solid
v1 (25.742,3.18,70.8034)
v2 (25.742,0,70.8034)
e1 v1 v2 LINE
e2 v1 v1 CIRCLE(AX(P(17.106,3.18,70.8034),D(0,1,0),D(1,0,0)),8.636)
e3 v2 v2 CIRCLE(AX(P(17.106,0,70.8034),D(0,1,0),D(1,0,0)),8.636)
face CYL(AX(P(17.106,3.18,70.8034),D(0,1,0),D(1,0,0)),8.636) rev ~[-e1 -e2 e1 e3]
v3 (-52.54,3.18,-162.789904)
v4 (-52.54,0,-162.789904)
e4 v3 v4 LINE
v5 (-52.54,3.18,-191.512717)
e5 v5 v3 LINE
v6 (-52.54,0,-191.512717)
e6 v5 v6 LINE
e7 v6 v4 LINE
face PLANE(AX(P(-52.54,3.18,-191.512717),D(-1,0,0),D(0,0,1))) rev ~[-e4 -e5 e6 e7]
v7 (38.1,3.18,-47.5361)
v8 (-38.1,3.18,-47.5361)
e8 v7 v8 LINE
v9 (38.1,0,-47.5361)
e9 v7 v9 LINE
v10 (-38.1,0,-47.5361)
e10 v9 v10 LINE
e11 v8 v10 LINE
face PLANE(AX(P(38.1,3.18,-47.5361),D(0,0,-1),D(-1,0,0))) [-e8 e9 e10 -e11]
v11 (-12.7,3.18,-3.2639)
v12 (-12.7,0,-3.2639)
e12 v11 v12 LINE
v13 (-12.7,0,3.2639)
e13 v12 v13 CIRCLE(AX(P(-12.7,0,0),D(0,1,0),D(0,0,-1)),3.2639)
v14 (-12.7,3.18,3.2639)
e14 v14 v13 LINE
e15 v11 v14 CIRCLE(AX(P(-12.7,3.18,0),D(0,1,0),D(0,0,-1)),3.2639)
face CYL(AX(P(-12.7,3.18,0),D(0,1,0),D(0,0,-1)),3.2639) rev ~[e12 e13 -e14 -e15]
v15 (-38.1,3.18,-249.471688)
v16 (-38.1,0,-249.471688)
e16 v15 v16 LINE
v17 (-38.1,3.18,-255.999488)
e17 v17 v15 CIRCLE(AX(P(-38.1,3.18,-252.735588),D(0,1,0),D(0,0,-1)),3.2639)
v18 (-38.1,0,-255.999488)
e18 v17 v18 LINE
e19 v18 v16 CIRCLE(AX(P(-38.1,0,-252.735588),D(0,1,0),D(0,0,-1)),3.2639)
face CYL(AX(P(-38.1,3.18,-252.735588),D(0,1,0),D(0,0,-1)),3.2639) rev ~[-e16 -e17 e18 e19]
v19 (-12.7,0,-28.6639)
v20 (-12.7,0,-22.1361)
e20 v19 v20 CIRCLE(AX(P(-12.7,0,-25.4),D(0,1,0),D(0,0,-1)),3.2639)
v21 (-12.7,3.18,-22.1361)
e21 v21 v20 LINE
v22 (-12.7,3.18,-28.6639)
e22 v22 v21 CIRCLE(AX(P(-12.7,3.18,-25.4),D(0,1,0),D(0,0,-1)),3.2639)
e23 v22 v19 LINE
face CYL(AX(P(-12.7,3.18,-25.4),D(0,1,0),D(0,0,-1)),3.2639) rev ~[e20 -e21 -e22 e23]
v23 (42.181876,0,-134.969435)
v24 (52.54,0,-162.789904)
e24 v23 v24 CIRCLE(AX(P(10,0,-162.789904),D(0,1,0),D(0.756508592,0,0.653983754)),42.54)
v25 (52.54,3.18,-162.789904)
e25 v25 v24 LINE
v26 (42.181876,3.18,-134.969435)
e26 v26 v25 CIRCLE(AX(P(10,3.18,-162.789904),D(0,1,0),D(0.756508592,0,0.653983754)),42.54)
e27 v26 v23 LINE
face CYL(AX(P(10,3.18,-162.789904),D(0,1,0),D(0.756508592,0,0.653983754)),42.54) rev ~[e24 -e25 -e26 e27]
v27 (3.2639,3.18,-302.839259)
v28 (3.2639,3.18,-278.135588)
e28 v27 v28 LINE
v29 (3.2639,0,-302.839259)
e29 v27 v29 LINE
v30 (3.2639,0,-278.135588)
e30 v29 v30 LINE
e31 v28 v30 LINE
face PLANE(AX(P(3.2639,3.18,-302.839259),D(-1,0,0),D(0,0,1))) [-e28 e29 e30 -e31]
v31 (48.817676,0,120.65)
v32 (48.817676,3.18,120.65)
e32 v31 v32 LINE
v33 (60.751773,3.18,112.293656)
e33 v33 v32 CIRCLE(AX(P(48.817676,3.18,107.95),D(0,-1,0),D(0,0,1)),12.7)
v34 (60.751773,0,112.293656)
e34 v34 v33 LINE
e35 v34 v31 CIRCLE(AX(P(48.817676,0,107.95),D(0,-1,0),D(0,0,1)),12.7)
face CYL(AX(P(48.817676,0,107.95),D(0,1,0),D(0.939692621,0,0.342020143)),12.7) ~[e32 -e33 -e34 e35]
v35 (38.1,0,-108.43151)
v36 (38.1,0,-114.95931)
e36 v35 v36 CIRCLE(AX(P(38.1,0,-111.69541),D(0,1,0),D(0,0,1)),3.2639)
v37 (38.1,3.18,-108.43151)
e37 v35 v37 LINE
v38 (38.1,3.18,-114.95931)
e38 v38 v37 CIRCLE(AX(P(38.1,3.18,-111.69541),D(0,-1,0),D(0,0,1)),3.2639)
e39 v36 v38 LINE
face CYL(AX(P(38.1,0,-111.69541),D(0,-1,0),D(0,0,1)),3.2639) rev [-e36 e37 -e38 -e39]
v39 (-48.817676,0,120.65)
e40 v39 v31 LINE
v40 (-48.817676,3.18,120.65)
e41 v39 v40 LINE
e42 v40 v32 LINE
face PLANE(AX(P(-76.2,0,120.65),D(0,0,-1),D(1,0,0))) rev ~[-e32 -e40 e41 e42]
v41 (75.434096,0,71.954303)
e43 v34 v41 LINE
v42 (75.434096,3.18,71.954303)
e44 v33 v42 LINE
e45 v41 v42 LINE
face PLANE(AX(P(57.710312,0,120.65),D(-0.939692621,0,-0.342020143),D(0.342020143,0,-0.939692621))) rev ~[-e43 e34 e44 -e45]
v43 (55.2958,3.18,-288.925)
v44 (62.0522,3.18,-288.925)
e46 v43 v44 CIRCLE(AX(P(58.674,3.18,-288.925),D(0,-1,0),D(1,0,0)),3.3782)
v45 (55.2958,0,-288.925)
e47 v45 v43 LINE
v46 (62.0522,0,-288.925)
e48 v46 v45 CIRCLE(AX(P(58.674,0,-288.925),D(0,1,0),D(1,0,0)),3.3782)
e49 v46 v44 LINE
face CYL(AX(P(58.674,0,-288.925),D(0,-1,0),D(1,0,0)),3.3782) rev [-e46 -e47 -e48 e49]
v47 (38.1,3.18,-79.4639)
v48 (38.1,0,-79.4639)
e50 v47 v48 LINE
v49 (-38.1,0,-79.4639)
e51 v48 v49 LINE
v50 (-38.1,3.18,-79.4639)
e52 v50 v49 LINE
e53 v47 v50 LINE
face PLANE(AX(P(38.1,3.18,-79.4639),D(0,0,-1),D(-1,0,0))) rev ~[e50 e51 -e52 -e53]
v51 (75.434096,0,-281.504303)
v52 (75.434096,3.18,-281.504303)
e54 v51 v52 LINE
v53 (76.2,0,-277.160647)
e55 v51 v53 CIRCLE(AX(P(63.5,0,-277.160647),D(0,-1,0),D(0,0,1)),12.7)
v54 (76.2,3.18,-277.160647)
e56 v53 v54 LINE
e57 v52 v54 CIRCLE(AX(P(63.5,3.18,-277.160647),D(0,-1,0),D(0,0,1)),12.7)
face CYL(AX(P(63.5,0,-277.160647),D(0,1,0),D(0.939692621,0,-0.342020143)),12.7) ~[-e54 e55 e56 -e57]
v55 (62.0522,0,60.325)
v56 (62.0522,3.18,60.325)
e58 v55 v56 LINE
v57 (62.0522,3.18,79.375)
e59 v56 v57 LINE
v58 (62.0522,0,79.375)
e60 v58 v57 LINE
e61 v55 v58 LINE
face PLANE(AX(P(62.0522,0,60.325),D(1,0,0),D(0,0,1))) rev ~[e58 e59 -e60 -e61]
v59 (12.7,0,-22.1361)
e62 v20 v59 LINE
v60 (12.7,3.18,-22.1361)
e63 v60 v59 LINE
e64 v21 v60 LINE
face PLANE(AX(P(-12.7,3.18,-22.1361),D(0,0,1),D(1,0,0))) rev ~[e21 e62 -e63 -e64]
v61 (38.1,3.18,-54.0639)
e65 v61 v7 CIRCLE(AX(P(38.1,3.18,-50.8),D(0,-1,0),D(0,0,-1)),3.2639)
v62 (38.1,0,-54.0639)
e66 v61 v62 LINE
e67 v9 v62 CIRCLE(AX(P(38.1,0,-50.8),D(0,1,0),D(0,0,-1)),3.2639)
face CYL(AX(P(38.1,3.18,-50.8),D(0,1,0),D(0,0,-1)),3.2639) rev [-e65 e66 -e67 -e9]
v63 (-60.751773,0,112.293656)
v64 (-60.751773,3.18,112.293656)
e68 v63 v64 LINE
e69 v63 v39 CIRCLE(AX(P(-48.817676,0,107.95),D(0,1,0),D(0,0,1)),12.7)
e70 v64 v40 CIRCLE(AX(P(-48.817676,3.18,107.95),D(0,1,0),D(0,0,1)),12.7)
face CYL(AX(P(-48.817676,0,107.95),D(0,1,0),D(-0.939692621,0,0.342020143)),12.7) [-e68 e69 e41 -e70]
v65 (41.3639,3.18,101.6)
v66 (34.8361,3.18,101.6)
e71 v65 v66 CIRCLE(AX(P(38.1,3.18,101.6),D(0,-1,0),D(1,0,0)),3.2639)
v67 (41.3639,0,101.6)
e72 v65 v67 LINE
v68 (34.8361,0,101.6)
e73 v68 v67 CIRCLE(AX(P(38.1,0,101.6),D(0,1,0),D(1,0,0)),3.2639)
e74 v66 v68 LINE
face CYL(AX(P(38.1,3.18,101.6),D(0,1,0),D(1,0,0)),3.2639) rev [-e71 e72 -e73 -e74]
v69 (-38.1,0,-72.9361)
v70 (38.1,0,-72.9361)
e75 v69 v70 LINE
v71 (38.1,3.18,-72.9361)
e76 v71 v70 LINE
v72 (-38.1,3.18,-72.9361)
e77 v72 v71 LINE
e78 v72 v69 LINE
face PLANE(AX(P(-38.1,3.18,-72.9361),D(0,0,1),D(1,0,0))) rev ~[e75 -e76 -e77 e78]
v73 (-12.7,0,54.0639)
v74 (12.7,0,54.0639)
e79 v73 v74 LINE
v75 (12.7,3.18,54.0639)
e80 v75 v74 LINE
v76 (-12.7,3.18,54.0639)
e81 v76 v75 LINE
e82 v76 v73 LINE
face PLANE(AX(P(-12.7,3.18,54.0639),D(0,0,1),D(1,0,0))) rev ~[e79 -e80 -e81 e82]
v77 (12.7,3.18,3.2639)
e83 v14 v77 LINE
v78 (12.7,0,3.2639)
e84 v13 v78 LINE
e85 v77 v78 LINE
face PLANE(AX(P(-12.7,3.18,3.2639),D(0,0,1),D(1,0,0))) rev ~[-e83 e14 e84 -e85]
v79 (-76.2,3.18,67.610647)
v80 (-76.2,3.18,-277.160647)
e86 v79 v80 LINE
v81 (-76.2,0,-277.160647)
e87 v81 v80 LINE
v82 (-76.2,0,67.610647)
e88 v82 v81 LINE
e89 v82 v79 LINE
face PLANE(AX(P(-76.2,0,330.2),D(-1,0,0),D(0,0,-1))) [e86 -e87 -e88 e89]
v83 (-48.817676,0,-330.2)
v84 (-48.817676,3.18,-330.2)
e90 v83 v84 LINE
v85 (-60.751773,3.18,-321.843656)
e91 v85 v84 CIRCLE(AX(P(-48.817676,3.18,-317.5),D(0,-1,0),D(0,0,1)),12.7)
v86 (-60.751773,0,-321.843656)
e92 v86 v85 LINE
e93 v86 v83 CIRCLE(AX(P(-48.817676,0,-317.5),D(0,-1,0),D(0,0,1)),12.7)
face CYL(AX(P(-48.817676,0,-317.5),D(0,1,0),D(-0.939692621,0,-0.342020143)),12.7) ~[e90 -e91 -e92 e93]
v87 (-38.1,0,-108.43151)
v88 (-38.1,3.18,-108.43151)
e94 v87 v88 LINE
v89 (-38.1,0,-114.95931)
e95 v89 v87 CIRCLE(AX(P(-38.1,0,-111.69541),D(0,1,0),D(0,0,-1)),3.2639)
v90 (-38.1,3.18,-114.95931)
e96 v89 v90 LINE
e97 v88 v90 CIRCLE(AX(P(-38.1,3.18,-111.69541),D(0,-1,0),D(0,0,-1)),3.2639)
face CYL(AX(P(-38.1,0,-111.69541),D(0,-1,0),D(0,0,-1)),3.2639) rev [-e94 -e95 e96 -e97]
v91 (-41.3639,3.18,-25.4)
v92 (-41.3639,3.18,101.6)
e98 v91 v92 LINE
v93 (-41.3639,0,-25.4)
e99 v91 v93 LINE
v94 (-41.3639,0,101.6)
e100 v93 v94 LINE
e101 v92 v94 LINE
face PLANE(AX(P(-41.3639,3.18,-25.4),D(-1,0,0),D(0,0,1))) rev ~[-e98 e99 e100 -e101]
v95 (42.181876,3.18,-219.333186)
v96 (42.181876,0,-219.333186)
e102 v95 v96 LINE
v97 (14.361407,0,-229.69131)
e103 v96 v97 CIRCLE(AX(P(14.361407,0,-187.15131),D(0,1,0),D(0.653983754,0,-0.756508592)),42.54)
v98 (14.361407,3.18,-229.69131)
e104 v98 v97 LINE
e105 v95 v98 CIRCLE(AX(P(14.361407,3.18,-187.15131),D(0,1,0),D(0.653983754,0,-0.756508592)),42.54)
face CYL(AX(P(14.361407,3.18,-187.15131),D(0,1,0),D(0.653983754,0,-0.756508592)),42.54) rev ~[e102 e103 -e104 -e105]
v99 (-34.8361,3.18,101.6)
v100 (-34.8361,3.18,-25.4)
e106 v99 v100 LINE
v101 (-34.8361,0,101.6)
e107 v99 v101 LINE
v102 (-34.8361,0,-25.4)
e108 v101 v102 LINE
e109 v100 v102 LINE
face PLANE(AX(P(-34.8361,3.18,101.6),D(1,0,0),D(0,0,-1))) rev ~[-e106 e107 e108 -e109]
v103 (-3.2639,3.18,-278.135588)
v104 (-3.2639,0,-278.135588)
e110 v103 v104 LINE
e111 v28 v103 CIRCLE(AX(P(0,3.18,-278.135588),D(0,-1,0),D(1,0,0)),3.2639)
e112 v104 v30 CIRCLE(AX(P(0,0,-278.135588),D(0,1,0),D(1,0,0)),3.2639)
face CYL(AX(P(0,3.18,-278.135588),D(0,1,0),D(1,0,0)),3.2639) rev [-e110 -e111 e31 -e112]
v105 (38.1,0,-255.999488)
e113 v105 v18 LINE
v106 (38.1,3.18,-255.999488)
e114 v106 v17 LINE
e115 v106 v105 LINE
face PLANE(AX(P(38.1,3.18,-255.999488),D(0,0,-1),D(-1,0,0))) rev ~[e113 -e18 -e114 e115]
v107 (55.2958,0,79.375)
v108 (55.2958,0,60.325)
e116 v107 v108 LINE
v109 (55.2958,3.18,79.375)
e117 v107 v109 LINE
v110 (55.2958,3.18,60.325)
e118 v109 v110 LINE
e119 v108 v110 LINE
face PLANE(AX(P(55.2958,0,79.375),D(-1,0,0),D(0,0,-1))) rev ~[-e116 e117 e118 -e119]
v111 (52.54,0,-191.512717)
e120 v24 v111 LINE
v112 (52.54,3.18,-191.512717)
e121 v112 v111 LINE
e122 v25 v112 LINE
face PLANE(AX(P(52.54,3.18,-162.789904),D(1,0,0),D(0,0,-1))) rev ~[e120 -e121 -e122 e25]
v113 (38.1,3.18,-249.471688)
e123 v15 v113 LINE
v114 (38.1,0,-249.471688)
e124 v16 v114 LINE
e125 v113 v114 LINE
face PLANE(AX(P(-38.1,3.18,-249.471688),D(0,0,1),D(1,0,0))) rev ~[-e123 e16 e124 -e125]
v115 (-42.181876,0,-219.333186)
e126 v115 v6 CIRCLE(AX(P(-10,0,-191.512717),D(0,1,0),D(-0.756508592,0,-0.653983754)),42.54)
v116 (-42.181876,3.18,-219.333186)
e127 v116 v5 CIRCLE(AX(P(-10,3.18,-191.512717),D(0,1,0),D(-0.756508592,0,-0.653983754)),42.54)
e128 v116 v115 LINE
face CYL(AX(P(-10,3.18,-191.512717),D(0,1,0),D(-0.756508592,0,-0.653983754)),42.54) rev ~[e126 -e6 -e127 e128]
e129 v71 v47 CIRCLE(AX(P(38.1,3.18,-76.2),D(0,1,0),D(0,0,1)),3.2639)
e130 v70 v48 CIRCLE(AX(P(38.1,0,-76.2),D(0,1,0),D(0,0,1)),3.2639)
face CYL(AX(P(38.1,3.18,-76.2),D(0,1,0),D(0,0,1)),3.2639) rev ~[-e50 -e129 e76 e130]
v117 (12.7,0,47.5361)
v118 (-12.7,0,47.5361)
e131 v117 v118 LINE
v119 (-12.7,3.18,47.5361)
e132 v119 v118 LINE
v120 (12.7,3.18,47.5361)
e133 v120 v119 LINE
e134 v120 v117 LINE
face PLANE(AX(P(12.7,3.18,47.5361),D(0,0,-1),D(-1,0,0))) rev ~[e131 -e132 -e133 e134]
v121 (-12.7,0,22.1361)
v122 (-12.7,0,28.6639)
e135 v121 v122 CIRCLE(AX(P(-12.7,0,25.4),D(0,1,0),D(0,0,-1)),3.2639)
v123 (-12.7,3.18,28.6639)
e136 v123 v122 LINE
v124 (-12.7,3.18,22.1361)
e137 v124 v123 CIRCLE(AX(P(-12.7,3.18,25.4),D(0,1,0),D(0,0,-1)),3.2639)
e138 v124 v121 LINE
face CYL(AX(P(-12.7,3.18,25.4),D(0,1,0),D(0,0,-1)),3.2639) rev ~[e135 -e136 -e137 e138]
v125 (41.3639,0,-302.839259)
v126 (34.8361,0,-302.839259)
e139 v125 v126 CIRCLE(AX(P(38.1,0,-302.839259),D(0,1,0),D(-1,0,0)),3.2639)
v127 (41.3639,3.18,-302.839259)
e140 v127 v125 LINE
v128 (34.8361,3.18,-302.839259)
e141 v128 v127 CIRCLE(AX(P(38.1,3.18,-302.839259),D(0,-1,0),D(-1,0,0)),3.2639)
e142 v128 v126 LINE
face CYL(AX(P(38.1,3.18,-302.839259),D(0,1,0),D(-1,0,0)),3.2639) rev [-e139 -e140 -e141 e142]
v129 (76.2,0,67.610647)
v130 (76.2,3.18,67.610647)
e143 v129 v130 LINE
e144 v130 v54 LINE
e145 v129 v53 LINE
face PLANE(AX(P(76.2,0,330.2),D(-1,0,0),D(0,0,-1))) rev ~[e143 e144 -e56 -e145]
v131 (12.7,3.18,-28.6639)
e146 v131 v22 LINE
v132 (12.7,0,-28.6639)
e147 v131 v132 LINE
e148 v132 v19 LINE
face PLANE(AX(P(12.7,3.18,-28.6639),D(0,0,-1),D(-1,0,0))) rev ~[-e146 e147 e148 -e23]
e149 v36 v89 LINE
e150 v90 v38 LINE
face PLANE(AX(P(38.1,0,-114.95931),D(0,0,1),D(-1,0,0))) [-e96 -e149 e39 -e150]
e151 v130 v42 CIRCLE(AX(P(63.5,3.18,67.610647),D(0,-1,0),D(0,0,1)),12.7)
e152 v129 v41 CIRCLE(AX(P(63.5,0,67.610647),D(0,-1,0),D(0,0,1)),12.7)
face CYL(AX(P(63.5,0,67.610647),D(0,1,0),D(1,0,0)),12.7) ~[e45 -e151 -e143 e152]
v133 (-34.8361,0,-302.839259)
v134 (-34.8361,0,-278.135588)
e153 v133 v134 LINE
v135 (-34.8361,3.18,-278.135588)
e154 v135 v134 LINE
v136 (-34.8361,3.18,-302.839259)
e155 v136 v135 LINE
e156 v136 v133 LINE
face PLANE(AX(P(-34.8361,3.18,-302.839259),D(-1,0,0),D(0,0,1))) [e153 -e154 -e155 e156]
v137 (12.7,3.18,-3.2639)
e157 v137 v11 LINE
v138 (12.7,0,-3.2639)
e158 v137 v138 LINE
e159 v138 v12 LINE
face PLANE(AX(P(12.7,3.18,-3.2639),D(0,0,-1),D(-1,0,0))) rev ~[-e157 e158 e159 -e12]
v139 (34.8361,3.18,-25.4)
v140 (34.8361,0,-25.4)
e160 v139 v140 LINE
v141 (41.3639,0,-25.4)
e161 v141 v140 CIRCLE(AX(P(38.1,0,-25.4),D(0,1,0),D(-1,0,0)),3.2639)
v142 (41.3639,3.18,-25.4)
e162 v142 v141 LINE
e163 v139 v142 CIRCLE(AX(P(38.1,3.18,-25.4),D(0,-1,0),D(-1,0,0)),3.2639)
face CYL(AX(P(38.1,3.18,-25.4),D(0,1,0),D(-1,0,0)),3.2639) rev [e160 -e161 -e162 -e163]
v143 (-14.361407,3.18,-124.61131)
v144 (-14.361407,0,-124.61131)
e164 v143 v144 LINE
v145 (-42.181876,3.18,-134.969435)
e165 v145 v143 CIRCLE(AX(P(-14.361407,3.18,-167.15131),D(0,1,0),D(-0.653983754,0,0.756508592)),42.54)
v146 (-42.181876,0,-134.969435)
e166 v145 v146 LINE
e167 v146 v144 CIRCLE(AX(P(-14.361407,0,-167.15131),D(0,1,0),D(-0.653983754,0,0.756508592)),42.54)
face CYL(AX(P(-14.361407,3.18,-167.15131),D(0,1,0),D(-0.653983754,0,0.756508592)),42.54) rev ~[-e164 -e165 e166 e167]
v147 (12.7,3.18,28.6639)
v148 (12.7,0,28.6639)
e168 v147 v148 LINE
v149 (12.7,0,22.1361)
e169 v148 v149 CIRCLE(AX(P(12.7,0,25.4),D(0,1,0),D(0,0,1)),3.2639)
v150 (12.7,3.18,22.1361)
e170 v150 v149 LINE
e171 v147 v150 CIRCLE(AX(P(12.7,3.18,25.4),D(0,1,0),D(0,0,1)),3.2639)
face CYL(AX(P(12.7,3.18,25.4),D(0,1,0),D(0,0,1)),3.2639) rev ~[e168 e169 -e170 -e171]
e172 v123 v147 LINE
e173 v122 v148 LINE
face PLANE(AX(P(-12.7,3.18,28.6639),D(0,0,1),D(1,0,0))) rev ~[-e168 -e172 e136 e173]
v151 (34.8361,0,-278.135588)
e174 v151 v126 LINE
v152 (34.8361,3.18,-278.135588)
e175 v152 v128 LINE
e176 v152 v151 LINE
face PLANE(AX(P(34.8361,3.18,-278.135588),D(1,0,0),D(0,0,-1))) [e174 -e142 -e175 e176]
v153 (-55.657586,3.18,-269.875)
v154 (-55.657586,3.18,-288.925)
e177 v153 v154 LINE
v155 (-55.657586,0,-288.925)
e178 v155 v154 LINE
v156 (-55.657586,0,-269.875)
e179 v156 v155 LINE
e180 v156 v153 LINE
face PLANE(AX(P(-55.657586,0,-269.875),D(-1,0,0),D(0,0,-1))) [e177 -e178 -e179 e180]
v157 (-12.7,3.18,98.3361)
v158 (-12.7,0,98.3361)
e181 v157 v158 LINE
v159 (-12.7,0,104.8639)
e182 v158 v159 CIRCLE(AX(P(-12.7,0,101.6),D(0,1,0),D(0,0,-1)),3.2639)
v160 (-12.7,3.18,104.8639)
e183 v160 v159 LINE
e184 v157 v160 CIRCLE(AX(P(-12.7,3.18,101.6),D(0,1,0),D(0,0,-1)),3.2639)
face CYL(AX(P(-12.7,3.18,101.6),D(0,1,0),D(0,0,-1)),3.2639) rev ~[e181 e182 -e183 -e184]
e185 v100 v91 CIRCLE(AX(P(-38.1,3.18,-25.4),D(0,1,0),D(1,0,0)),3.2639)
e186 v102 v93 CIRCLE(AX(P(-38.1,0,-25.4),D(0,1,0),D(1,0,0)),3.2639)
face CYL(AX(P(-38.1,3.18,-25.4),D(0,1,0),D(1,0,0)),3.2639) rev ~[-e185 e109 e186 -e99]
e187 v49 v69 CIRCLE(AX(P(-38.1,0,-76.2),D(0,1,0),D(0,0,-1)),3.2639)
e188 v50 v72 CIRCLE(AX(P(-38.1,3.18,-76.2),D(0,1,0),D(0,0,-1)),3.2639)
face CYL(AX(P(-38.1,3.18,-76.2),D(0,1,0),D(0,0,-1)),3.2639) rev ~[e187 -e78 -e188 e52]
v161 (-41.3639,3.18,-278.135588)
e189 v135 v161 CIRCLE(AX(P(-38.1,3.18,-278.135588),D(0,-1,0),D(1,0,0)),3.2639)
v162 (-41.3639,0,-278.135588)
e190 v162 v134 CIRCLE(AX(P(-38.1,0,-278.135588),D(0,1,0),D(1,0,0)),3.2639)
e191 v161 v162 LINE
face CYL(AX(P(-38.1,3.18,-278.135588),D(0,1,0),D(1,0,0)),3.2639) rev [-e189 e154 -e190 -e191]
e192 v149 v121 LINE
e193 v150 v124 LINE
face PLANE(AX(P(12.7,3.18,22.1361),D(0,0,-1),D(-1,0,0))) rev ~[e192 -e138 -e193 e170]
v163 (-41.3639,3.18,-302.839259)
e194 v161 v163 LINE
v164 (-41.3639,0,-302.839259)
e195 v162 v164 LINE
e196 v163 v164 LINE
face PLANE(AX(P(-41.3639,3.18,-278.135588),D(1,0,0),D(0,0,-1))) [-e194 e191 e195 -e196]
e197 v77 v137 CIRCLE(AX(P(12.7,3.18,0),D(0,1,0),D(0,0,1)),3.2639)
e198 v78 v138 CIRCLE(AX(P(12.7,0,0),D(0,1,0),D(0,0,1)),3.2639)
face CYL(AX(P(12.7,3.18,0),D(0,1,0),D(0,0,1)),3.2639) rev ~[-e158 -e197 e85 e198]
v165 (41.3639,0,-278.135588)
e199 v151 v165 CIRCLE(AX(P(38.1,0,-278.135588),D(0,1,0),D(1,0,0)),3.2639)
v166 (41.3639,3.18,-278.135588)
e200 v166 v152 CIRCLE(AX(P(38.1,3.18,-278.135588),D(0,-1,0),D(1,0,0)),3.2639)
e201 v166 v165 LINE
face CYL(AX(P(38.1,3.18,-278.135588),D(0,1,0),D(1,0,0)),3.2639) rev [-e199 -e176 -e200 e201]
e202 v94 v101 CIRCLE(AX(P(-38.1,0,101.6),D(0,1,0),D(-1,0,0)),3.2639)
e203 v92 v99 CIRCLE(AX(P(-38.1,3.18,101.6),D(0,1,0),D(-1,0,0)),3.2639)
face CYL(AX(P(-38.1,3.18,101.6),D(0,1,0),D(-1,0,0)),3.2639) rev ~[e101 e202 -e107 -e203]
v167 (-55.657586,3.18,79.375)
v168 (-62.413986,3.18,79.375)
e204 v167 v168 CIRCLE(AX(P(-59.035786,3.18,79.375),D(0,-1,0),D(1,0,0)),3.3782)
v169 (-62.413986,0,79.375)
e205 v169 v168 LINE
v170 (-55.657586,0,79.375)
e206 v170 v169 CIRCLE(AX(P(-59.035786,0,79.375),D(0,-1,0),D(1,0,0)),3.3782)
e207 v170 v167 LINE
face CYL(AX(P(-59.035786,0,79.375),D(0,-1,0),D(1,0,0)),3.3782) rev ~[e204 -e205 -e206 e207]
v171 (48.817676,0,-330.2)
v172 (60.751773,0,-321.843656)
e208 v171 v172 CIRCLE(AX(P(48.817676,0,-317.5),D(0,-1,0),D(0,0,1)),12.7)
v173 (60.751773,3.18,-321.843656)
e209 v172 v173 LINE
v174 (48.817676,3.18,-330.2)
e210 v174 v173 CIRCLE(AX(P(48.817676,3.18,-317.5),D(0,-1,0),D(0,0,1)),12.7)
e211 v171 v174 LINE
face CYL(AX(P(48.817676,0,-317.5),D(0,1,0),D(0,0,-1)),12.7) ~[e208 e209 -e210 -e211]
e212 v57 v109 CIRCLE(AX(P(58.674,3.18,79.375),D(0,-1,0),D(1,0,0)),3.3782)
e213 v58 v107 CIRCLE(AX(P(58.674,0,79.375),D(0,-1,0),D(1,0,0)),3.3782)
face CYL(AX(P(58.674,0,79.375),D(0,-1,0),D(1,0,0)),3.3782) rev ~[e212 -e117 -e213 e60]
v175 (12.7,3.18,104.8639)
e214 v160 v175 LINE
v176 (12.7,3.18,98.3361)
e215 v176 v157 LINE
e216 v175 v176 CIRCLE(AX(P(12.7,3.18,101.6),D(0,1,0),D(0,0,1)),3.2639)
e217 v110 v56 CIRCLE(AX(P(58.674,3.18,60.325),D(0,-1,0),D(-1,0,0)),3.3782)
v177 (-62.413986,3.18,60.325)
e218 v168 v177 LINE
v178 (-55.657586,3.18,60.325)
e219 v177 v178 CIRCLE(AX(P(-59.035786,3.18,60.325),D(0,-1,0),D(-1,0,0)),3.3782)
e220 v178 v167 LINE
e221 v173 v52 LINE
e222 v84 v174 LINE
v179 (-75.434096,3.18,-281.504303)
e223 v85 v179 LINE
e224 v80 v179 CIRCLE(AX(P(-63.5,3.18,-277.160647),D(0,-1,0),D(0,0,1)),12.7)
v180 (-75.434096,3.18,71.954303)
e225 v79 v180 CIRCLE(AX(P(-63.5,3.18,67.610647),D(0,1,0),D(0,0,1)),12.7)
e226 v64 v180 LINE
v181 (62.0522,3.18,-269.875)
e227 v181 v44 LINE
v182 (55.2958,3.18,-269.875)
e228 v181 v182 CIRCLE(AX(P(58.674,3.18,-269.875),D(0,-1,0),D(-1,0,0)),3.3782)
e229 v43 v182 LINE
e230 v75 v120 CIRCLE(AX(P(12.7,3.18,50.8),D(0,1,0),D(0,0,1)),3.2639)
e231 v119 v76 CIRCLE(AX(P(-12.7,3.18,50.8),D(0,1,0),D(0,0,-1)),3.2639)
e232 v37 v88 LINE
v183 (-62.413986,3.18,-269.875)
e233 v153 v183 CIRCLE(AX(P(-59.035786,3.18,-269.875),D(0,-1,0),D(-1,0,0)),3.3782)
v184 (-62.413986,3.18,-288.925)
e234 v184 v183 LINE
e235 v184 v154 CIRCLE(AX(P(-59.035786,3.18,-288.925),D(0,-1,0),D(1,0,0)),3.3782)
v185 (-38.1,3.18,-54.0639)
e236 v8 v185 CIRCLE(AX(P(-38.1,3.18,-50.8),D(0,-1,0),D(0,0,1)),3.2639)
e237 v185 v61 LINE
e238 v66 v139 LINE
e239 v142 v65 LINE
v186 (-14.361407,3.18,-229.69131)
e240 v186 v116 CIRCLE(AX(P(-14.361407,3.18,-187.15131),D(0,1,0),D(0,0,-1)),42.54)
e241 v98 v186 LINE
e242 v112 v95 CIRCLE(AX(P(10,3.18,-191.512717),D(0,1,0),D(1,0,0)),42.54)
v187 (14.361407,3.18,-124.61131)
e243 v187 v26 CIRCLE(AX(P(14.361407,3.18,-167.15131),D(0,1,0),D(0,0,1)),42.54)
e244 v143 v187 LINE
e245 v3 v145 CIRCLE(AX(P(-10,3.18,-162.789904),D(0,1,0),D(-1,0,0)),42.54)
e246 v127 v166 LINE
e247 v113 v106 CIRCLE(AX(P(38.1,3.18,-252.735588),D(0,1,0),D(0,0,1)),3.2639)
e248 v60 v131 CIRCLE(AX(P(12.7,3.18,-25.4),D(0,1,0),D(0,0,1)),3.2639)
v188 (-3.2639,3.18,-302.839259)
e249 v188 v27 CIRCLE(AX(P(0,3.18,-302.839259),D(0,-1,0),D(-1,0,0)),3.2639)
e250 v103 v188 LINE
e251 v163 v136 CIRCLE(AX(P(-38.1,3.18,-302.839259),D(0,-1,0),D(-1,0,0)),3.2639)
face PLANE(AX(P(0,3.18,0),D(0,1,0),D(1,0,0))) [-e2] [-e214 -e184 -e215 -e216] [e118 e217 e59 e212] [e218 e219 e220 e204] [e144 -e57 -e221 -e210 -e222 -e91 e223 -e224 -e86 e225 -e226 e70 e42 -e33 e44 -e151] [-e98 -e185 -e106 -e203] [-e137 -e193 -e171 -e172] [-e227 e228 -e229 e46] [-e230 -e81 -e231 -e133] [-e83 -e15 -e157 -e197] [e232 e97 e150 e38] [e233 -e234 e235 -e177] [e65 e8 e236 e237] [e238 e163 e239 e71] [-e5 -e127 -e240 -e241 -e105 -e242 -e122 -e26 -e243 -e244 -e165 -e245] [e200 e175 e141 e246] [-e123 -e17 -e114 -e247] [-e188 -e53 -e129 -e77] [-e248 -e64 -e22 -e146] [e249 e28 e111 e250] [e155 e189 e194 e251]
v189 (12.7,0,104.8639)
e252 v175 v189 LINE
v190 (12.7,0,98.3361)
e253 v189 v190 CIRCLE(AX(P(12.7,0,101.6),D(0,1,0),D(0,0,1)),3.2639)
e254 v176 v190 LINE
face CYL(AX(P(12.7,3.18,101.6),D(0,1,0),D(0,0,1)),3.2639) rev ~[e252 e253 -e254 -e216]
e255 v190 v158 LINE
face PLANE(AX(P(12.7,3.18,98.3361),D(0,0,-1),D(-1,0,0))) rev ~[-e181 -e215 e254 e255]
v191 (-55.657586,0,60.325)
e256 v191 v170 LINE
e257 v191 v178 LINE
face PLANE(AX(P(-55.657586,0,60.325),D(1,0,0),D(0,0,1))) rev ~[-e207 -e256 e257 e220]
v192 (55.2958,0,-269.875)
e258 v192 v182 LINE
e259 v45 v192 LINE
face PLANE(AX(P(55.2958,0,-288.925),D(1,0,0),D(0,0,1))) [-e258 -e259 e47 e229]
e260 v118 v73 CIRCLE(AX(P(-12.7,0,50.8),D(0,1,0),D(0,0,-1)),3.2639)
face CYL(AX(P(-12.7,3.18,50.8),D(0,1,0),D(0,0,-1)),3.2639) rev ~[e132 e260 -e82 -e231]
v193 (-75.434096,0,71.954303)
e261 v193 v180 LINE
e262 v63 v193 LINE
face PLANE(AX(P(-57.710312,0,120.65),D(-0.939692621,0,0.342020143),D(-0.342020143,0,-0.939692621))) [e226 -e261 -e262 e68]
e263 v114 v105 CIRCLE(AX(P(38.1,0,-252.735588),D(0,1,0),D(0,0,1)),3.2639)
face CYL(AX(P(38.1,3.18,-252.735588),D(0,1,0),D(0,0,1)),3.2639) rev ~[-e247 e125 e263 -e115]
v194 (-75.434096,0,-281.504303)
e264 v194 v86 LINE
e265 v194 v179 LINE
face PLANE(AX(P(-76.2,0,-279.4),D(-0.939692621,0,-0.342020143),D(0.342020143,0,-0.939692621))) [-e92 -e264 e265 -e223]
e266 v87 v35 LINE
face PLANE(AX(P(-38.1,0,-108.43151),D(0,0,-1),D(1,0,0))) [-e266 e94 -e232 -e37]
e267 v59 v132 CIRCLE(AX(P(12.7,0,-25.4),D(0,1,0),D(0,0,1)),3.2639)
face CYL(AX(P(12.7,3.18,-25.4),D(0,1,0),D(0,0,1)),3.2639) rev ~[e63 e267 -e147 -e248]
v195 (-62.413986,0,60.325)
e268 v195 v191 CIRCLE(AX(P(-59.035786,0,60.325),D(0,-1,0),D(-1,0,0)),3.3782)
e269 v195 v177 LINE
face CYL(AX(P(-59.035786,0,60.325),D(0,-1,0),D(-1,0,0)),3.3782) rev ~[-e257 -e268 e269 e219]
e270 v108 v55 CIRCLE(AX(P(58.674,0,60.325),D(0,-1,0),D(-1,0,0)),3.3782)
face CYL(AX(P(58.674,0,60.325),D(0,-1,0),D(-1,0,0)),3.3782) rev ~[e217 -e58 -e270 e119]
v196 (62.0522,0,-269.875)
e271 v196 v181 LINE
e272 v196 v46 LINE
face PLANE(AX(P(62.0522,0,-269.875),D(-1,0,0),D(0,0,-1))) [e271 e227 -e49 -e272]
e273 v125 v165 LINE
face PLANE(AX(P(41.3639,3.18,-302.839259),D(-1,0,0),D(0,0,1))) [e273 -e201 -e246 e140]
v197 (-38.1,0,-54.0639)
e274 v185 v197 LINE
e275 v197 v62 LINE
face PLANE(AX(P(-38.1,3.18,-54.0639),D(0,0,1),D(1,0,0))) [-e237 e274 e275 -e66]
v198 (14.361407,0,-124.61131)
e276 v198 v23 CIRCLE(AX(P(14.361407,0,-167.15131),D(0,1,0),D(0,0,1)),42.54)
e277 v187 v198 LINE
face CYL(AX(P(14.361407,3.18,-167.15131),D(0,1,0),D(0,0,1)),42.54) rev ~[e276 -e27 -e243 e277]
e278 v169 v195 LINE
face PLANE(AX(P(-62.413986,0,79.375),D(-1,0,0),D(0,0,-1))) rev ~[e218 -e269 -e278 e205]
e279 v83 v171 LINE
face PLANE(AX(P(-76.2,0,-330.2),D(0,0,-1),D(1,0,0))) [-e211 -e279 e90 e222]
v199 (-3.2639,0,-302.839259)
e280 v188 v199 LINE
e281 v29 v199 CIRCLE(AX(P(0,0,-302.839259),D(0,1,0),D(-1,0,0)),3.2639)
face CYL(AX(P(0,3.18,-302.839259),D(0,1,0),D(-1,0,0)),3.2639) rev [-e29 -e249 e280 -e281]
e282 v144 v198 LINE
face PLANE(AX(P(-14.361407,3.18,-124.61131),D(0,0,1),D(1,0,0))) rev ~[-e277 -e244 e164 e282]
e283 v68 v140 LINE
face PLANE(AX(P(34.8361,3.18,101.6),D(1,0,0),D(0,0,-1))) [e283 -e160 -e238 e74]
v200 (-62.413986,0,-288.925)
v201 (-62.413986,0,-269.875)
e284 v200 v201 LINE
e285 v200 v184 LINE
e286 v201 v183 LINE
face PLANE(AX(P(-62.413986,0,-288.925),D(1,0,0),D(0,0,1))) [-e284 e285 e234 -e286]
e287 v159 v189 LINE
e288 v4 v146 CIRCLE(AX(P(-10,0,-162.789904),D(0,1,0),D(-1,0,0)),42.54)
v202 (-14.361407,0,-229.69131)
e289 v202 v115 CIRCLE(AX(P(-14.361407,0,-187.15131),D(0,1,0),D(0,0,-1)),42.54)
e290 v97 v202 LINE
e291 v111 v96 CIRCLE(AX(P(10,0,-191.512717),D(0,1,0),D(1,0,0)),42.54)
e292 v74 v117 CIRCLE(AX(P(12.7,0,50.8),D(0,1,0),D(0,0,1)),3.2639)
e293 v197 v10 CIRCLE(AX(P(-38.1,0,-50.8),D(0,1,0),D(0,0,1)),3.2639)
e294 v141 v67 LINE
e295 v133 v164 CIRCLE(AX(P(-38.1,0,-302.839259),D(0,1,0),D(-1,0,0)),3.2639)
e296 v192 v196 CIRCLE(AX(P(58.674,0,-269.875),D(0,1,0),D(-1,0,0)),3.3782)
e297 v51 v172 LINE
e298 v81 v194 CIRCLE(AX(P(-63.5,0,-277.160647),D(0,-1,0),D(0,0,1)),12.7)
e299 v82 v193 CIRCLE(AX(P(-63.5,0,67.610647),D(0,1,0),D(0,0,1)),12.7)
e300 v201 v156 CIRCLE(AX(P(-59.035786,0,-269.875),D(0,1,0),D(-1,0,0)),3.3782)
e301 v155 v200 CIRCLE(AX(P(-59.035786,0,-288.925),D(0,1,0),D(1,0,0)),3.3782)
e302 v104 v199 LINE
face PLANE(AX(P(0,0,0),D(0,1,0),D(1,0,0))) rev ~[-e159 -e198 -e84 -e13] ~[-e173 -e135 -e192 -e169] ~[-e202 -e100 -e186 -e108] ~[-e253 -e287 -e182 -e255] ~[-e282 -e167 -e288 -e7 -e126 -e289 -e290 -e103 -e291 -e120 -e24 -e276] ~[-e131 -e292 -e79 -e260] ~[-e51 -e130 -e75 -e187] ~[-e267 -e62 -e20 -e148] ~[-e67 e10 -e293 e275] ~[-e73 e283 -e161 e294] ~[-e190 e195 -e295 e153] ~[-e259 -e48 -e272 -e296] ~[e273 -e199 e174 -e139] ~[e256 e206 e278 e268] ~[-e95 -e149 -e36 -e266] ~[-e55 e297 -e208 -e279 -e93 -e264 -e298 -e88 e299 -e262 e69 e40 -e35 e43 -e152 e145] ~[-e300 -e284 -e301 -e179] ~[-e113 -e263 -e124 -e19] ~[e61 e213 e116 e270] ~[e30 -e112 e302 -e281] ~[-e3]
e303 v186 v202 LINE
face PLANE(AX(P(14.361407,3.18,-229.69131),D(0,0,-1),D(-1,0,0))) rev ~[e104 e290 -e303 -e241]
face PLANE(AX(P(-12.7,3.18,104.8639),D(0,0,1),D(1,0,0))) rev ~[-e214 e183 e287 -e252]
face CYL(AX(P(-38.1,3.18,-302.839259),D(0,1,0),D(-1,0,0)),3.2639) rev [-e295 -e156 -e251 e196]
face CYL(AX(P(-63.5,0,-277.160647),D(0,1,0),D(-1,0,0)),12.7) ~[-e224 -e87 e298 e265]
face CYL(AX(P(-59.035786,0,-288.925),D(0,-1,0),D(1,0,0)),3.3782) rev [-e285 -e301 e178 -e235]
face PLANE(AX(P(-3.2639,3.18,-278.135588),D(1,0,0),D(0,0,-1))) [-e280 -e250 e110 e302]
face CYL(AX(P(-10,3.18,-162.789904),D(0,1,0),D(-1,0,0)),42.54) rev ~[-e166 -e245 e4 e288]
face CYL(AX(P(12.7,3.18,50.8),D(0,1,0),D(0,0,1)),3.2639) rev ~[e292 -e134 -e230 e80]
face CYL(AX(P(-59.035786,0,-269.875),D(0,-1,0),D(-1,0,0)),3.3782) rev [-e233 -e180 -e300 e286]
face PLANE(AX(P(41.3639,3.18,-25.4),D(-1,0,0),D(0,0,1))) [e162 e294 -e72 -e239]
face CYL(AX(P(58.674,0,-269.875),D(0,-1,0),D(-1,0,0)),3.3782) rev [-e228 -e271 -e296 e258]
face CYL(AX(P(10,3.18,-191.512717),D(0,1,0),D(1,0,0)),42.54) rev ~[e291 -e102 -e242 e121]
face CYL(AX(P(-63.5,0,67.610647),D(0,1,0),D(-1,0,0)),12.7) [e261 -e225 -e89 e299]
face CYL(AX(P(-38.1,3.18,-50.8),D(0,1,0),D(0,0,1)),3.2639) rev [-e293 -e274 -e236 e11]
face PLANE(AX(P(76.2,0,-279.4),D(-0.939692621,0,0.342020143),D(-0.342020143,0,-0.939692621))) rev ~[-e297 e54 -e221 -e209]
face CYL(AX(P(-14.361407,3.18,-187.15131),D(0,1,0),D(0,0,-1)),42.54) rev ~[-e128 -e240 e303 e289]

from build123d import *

# Parameters (mm, degrees)
SKETCH1_W           = 152.4
SKETCH1_H           = 660.4
BOSS_EXTRUDE1_DEPTH = 3.18
CUT_EXTRUDE2_DEPTH  = 4.18
CUT_EXTRUDE3_DEPTH  = 4.18
CUT_EXTRUDE4_DEPTH  = 4.18
FILLET1_R           = 12.7
CUT_EXTRUDE6_REACH  = 5.18
SKETCH7_W           = 152.4
SKETCH7_H           = 209.55
CUT_EXTRUDE7_REACH  = 5.18
FILLET2_R           = 12.7
CUT_EXTRUDE8_REACH  = 5.18
SKETCH6_R           = 8.636
CUT_EXTRUDE9_DEPTH  = 4.18
CUT_EXTRUDE10_DEPTH = 4.18


with BuildPart() as part:
    # Sketch1 → Boss-Extrude1 (new body)
    with BuildSketch(Plane(origin=(0, 0, 0), x_dir=(1, 0, 0), z_dir=(0, 1, 0))):
        Rectangle(SKETCH1_W, SKETCH1_H)
    extrude(amount=BOSS_EXTRUDE1_DEPTH)

    # Sketch3 → Cut-Extrude2 (cut, through all)
    with BuildSketch(Plane(origin=(0, 3.18, 0), x_dir=(1, 0, 0), z_dir=(0, 1, 0))):
        with BuildLine():
            Line((-38.1, 54.0639), (38.1, 54.0639))
            ThreePointArc((38.1, 54.0639), (41.3639, 50.8), (38.1, 47.5361))
            Line((38.1, 47.5361), (-38.1, 47.5361))
            ThreePointArc((-38.1, 47.5361), (-41.3639, 50.8), (-38.1, 54.0639))
        make_face()
        with BuildLine():
            Line((-41.3639, 25.4), (-41.3639, -101.6))
            ThreePointArc((-41.3639, -101.6), (-38.1, -104.8639), (-34.8361, -101.6))
            Line((-34.8361, -101.6), (-34.8361, 25.4))
            ThreePointArc((-34.8361, 25.4), (-38.1, 28.6639), (-41.3639, 25.4))
        make_face()
        with BuildLine():
            Line((41.3639, 25.4), (41.3639, -101.6))
            ThreePointArc((41.3639, -101.6), (38.1, -104.8639), (34.8361, -101.6))
            Line((34.8361, -101.6), (34.8361, 25.4))
            ThreePointArc((34.8361, 25.4), (38.1, 28.6639), (41.3639, 25.4))
        make_face()
        with BuildLine():
            Line((-38.1, -130.2639), (38.1, -130.2639))
            ThreePointArc((38.1, -130.2639), (41.3639, -127), (38.1, -123.7361))
            Line((38.1, -123.7361), (-38.1, -123.7361))
            ThreePointArc((-38.1, -123.7361), (-41.3639, -127), (-38.1, -130.2639))
        make_face()
        with BuildLine():
            Line((41.3639, -279.4), (41.3639, -152.4))
            ThreePointArc((41.3639, -152.4), (38.1, -149.1361), (34.8361, -152.4))
            Line((34.8361, -152.4), (34.8361, -279.4))
            ThreePointArc((34.8361, -279.4), (38.1, -282.6639), (41.3639, -279.4))
        make_face()
        with BuildLine():
            Line((-41.3639, -279.4), (-41.3639, -152.4))
            ThreePointArc((-41.3639, -152.4), (-38.1, -149.1361), (-34.8361, -152.4))
            Line((-34.8361, -152.4), (-34.8361, -279.4))
            ThreePointArc((-34.8361, -279.4), (-38.1, -282.6639), (-41.3639, -279.4))
        make_face()
        with BuildLine():
            Line((-38.1, -301.5361), (38.1, -301.5361))
            ThreePointArc((38.1, -301.5361), (41.3639, -304.8), (38.1, -308.0639))
            Line((38.1, -308.0639), (-38.1, -308.0639))
            ThreePointArc((-38.1, -308.0639), (-41.3639, -304.8), (-38.1, -301.5361))
        make_face()
        with BuildLine():
            Line((-12.7, -276.1361), (12.7, -276.1361))
            ThreePointArc((12.7, -276.1361), (15.9639, -279.4), (12.7, -282.6639))
            Line((12.7, -282.6639), (-12.7, -282.6639))
            ThreePointArc((-12.7, -282.6639), (-15.9639, -279.4), (-12.7, -276.1361))
        make_face()
        with BuildLine():
            Line((-12.7, -225.3361), (12.7, -225.3361))
            ThreePointArc((12.7, -225.3361), (15.9639, -228.6), (12.7, -231.8639))
            Line((12.7, -231.8639), (-12.7, -231.8639))
            ThreePointArc((-12.7, -231.8639), (-15.9639, -228.6), (-12.7, -225.3361))
        make_face()
        with BuildLine():
            Line((-12.7, -199.9361), (12.7, -199.9361))
            ThreePointArc((12.7, -199.9361), (15.9639, -203.2), (12.7, -206.4639))
            Line((12.7, -206.4639), (-12.7, -206.4639))
            ThreePointArc((-12.7, -206.4639), (-15.9639, -203.2), (-12.7, -199.9361))
        make_face()
        with BuildLine():
            Line((-12.7, -174.5361), (12.7, -174.5361))
            ThreePointArc((12.7, -174.5361), (15.9639, -177.8), (12.7, -181.0639))
            Line((12.7, -181.0639), (-12.7, -181.0639))
            ThreePointArc((-12.7, -181.0639), (-15.9639, -177.8), (-12.7, -174.5361))
        make_face()
        with BuildLine():
            Line((-12.7, -149.1361), (12.7, -149.1361))
            ThreePointArc((12.7, -149.1361), (15.9639, -152.4), (12.7, -155.6639))
            Line((12.7, -155.6639), (-12.7, -155.6639))
            ThreePointArc((-12.7, -155.6639), (-15.9639, -152.4), (-12.7, -149.1361))
        make_face()
        with BuildLine():
            Line((-12.7, 22.1361), (12.7, 22.1361))
            ThreePointArc((12.7, 22.1361), (15.9639, 25.4), (12.7, 28.6639))
            Line((12.7, 28.6639), (-12.7, 28.6639))
            ThreePointArc((-12.7, 28.6639), (-15.9639, 25.4), (-12.7, 22.1361))
        make_face()
        with BuildLine():
            Line((-12.7, -3.2639), (12.7, -3.2639))
            ThreePointArc((12.7, -3.2639), (15.9639, 0), (12.7, 3.2639))
            Line((12.7, 3.2639), (-12.7, 3.2639))
            ThreePointArc((-12.7, 3.2639), (-15.9639, 0), (-12.7, -3.2639))
        make_face()
        with BuildLine():
            Line((-12.7, -28.6639), (12.7, -28.6639))
            ThreePointArc((12.7, -28.6639), (15.9639, -25.4), (12.7, -22.1361))
            Line((12.7, -22.1361), (-12.7, -22.1361))
            ThreePointArc((-12.7, -22.1361), (-15.9639, -25.4), (-12.7, -28.6639))
        make_face()
        with BuildLine():
            Line((-12.7, -54.0639), (12.7, -54.0639))
            ThreePointArc((12.7, -54.0639), (15.9639, -50.8), (12.7, -47.5361))
            Line((12.7, -47.5361), (-12.7, -47.5361))
            ThreePointArc((-12.7, -47.5361), (-15.9639, -50.8), (-12.7, -54.0639))
        make_face()
        with BuildLine():
            Line((-12.7, -104.8639), (12.7, -104.8639))
            ThreePointArc((12.7, -104.8639), (15.9639, -101.6), (12.7, -98.3361))
            Line((12.7, -98.3361), (-12.7, -98.3361))
            ThreePointArc((-12.7, -98.3361), (-15.9639, -101.6), (-12.7, -104.8639))
        make_face()
        with BuildLine():
            Line((-38.1, 72.9361), (38.1, 72.9361))
            ThreePointArc((38.1, 72.9361), (41.3639, 76.2), (38.1, 79.4639))
            Line((38.1, 79.4639), (-38.1, 79.4639))
            ThreePointArc((-38.1, 79.4639), (-41.3639, 76.2), (-38.1, 72.9361))
        make_face()
        with BuildLine():
            Line((-38.1, 249.471688), (38.1, 249.471688))
            ThreePointArc((38.1, 249.471688), (41.3639, 252.735588), (38.1, 255.999488))
            Line((38.1, 255.999488), (-38.1, 255.999488))
            ThreePointArc((-38.1, 255.999488), (-41.3639, 252.735588), (-38.1, 249.471688))
        make_face()
        with BuildLine():
            Line((-34.8361, 302.83925906), (-34.8361, 278.135588))
            ThreePointArc((-34.8361, 278.135588), (-38.1, 274.871688), (-41.3639, 278.135588))
            Line((-41.3639, 278.135588), (-41.3639, 302.83925906))
            ThreePointArc((-41.3639, 302.83925906), (-38.1, 306.10315906), (-34.8361, 302.83925906))
        make_face()
        with BuildLine():
            Line((3.2639, 302.83925906), (3.2639, 278.135588))
            ThreePointArc((3.2639, 278.135588), (0, 274.871688), (-3.2639, 278.135588))
            Line((-3.2639, 278.135588), (-3.2639, 302.83925906))
            ThreePointArc((-3.2639, 302.83925906), (0, 306.10315906), (3.2639, 302.83925906))
        make_face()
        with BuildLine():
            Line((41.3639, 302.83925906), (41.3639, 278.135588))
            ThreePointArc((41.3639, 278.135588), (38.1, 274.871688), (34.8361, 278.135588))
            Line((34.8361, 278.135588), (34.8361, 302.83925906))
            ThreePointArc((34.8361, 302.83925906), (38.1, 306.10315906), (41.3639, 302.83925906))
        make_face()
        with BuildLine():
            Line((-38.1, 203.751688), (38.1, 203.751688))
            ThreePointArc((38.1, 203.751688), (41.3639, 207.015588), (38.1, 210.279488))
            Line((38.1, 210.279488), (-38.1, 210.279488))
            ThreePointArc((-38.1, 210.279488), (-41.3639, 207.015588), (-38.1, 203.751688))
        make_face()
    extrude(amount=-CUT_EXTRUDE2_DEPTH, mode=Mode.SUBTRACT)

    # Sketch4 → Cut-Extrude3 (cut, through all)
    with BuildSketch(Plane(origin=(0, 3.18, 0), x_dir=(1, 0, 0), z_dir=(0, 1, 0))):
        with BuildLine():
            Line((-14.361406616, 124.611310304), (14.361406616, 124.611310304))
            ThreePointArc((14.361406616, 124.611310304), (29.204496188, 127.284854581), (42.181875503, 134.969434801))
            ThreePointArc((42.181875503, 134.969434801), (49.866455724, 147.946814116), (52.54, 162.789903688))
            Line((52.54, 162.789903688), (52.54, 191.512716921))
            ThreePointArc((52.54, 191.512716921), (49.866455724, 206.355806493), (42.181875503, 219.333185808))
            ThreePointArc((42.181875503, 219.333185808), (29.204496188, 227.017766028), (14.361406616, 229.691310304))
            Line((14.361406616, 229.691310304), (-14.361406616, 229.691310304))
            ThreePointArc((-14.361406616, 229.691310304), (-29.204496188, 227.017766028), (-42.181875503, 219.333185808))
            ThreePointArc((-42.181875503, 219.333185808), (-49.866455724, 206.355806493), (-52.54, 191.512716921))
            Line((-52.54, 191.512716921), (-52.54, 162.789903688))
            ThreePointArc((-52.54, 162.789903688), (-49.866455724, 147.946814116), (-42.181875503, 134.969434801))
            ThreePointArc((-42.181875503, 134.969434801), (-29.204496188, 127.284854581), (-14.361406616, 124.611310304))
        make_face()
    extrude(amount=-CUT_EXTRUDE3_DEPTH, mode=Mode.SUBTRACT)

    # Sketch5 → Cut-Extrude4 (cut, through all)
    with BuildSketch(Plane.XZ):
        Polygon((76.2, 279.4), (57.710312099, 330.2), (76.2, 330.2), align=None)
        Polygon((-57.710312099, 330.2), (-76.2, 330.2), (-76.2, 279.4), align=None)
        Polygon((-76.2, -279.4), (-57.710312099, -330.2), (-76.2, -330.2), align=None)
        Polygon((57.710312099, -330.2), (76.2, -330.2), (76.2, -279.4), align=None)
    extrude(amount=-CUT_EXTRUDE4_DEPTH, mode=Mode.SUBTRACT)

    # Fillet1
    fillet1_edges = [part.edges().sort_by_distance(p)[0] for p in [
        (57.710312099, 1.59, -330.2),
        (76.2, 1.59, -279.4),
        (-76.2, 1.59, -279.4),
        (-57.710312099, 1.59, -330.2),
        (-57.710312099, 1.59, 330.2),
        (-76.2, 1.59, 279.4),
        (76.2, 1.59, 279.4),
        (57.710312099, 1.59, 330.2),
    ]]
    fillet(fillet1_edges, radius=FILLET1_R)

    # Sketch7 → Cut-Extrude6 (cut, up to next)
    with BuildSketch(Plane.XZ, mode=Mode.PRIVATE) as cut_extrude6_sk1:
        with Locations((0, 225.425)):
            Rectangle(SKETCH7_W, SKETCH7_H)
    cut_extrude6_tool1 = extrude(cut_extrude6_sk1.sketch, amount=-CUT_EXTRUDE6_REACH, mode=Mode.PRIVATE) & part.part
    add(cut_extrude6_tool1.solids().sort_by_distance((0, 0, 225.425))[0], mode=Mode.SUBTRACT)

    # Sketch8 → Cut-Extrude7 (cut, up to next)
    with BuildSketch(Plane.XZ, mode=Mode.PRIVATE) as cut_extrude7_sk1:
        Polygon((76.2, 69.85), (76.2, 120.65), (57.710312099, 120.65), align=None)
    cut_extrude7_tool1 = extrude(cut_extrude7_sk1.sketch, amount=-CUT_EXTRUDE7_REACH, mode=Mode.PRIVATE) & part.part
    add(cut_extrude7_tool1.solids().sort_by_distance((70.036771, 0, 103.716667))[0], mode=Mode.SUBTRACT)
    # Sketch8 → Cut-Extrude7 (cut, up to next)
    with BuildSketch(Plane.XZ, mode=Mode.PRIVATE) as cut_extrude7_sk2:
        Polygon((-76.2, 120.65), (-57.710312099, 120.65), (-76.2, 69.85), align=None)
    cut_extrude7_tool2 = extrude(cut_extrude7_sk2.sketch, amount=-CUT_EXTRUDE7_REACH, mode=Mode.PRIVATE) & part.part
    add(cut_extrude7_tool2.solids().sort_by_distance((-70.036771, 0, 103.716667))[0], mode=Mode.SUBTRACT)

    # Fillet2
    fillet2_edges = [part.edges().sort_by_distance(p)[0] for p in [
        (76.2, 1.59, 69.85),
        (57.710312099, 1.59, 120.65),
        (-76.2, 1.59, 69.85),
        (-57.710312099, 1.59, 120.65),
    ]]
    fillet(fillet2_edges, radius=FILLET2_R)

    # Sketch9 → Cut-Extrude8 (cut, up to next)
    with BuildSketch(Plane.XZ, mode=Mode.PRIVATE) as cut_extrude8_sk1:
        with BuildLine():
            Line((62.052200001, -269.875), (62.052200001, -288.925))
            ThreePointArc((62.052200001, -288.925), (58.674000001, -292.3032), (55.295800001, -288.925))
            Line((55.295800001, -288.925), (55.295800001, -269.875))
            ThreePointArc((55.295800001, -269.875), (58.674000001, -266.4968), (62.052200001, -269.875))
        make_face()
    cut_extrude8_tool1 = extrude(cut_extrude8_sk1.sketch, amount=-CUT_EXTRUDE8_REACH, mode=Mode.PRIVATE) & part.part
    add(cut_extrude8_tool1.solids().sort_by_distance((58.674, 0, -279.4))[0], mode=Mode.SUBTRACT)
    # Sketch9 → Cut-Extrude8 (cut, up to next)
    with BuildSketch(Plane.XZ, mode=Mode.PRIVATE) as cut_extrude8_sk2:
        with BuildLine():
            Line((-55.657585683, -269.875), (-55.657585683, -288.925))
            ThreePointArc((-55.657585683, -288.925), (-59.035785683, -292.3032), (-62.413985683, -288.925))
            Line((-62.413985683, -288.925), (-62.413985683, -269.875))
            ThreePointArc((-62.413985683, -269.875), (-59.035785683, -266.4968), (-55.657585683, -269.875))
        make_face()
    cut_extrude8_tool2 = extrude(cut_extrude8_sk2.sketch, amount=-CUT_EXTRUDE8_REACH, mode=Mode.PRIVATE) & part.part
    add(cut_extrude8_tool2.solids().sort_by_distance((-59.035786, 0, -279.4))[0], mode=Mode.SUBTRACT)
    # Sketch9 → Cut-Extrude8 (cut, up to next)
    with BuildSketch(Plane.XZ, mode=Mode.PRIVATE) as cut_extrude8_sk3:
        with BuildLine():
            Line((-55.657585683, 60.325), (-55.657585683, 79.375))
            ThreePointArc((-55.657585683, 79.375), (-59.035785683, 82.7532), (-62.413985683, 79.375))
            Line((-62.413985683, 79.375), (-62.413985683, 60.325))
            ThreePointArc((-62.413985683, 60.325), (-59.035785683, 56.9468), (-55.657585683, 60.325))
        make_face()
    cut_extrude8_tool3 = extrude(cut_extrude8_sk3.sketch, amount=-CUT_EXTRUDE8_REACH, mode=Mode.PRIVATE) & part.part
    add(cut_extrude8_tool3.solids().sort_by_distance((-59.035786, 0, 69.85))[0], mode=Mode.SUBTRACT)
    # Sketch9 → Cut-Extrude8 (cut, up to next)
    with BuildSketch(Plane.XZ, mode=Mode.PRIVATE) as cut_extrude8_sk4:
        with BuildLine():
            Line((62.052200001, 60.325), (62.052200001, 79.375))
            ThreePointArc((62.052200001, 79.375), (58.674000001, 82.7532), (55.295800001, 79.375))
            Line((55.295800001, 79.375), (55.295800001, 60.325))
            ThreePointArc((55.295800001, 60.325), (58.674000001, 56.9468), (62.052200001, 60.325))
        make_face()
    cut_extrude8_tool4 = extrude(cut_extrude8_sk4.sketch, amount=-CUT_EXTRUDE8_REACH, mode=Mode.PRIVATE) & part.part
    add(cut_extrude8_tool4.solids().sort_by_distance((58.674, 0, 69.85))[0], mode=Mode.SUBTRACT)

    # Sketch6 → Cut-Extrude9 (cut, through all)
    with BuildSketch(Plane(origin=(0, 3.18, 0), x_dir=(1, 0, 0), z_dir=(0, 1, 0))):
        with Locations((17.106, -70.8034)):
            Circle(SKETCH6_R)
    extrude(amount=-CUT_EXTRUDE9_DEPTH, mode=Mode.SUBTRACT)

    # Sketch10 → Cut-Extrude10 (cut, through all)
    with BuildSketch(Plane.XZ):
        with BuildLine():
            Line((-38.1, -108.431510304), (38.1, -108.431510304))
            ThreePointArc((38.1, -108.431510304), (41.3639, -111.695410304), (38.1, -114.959310304))
            Line((38.1, -114.959310304), (-38.1, -114.959310304))
            ThreePointArc((-38.1, -114.959310304), (-41.3639, -111.695410304), (-38.1, -108.431510304))
        make_face()
    extrude(amount=-CUT_EXTRUDE10_DEPTH, mode=Mode.SUBTRACT)


solid = part.part
